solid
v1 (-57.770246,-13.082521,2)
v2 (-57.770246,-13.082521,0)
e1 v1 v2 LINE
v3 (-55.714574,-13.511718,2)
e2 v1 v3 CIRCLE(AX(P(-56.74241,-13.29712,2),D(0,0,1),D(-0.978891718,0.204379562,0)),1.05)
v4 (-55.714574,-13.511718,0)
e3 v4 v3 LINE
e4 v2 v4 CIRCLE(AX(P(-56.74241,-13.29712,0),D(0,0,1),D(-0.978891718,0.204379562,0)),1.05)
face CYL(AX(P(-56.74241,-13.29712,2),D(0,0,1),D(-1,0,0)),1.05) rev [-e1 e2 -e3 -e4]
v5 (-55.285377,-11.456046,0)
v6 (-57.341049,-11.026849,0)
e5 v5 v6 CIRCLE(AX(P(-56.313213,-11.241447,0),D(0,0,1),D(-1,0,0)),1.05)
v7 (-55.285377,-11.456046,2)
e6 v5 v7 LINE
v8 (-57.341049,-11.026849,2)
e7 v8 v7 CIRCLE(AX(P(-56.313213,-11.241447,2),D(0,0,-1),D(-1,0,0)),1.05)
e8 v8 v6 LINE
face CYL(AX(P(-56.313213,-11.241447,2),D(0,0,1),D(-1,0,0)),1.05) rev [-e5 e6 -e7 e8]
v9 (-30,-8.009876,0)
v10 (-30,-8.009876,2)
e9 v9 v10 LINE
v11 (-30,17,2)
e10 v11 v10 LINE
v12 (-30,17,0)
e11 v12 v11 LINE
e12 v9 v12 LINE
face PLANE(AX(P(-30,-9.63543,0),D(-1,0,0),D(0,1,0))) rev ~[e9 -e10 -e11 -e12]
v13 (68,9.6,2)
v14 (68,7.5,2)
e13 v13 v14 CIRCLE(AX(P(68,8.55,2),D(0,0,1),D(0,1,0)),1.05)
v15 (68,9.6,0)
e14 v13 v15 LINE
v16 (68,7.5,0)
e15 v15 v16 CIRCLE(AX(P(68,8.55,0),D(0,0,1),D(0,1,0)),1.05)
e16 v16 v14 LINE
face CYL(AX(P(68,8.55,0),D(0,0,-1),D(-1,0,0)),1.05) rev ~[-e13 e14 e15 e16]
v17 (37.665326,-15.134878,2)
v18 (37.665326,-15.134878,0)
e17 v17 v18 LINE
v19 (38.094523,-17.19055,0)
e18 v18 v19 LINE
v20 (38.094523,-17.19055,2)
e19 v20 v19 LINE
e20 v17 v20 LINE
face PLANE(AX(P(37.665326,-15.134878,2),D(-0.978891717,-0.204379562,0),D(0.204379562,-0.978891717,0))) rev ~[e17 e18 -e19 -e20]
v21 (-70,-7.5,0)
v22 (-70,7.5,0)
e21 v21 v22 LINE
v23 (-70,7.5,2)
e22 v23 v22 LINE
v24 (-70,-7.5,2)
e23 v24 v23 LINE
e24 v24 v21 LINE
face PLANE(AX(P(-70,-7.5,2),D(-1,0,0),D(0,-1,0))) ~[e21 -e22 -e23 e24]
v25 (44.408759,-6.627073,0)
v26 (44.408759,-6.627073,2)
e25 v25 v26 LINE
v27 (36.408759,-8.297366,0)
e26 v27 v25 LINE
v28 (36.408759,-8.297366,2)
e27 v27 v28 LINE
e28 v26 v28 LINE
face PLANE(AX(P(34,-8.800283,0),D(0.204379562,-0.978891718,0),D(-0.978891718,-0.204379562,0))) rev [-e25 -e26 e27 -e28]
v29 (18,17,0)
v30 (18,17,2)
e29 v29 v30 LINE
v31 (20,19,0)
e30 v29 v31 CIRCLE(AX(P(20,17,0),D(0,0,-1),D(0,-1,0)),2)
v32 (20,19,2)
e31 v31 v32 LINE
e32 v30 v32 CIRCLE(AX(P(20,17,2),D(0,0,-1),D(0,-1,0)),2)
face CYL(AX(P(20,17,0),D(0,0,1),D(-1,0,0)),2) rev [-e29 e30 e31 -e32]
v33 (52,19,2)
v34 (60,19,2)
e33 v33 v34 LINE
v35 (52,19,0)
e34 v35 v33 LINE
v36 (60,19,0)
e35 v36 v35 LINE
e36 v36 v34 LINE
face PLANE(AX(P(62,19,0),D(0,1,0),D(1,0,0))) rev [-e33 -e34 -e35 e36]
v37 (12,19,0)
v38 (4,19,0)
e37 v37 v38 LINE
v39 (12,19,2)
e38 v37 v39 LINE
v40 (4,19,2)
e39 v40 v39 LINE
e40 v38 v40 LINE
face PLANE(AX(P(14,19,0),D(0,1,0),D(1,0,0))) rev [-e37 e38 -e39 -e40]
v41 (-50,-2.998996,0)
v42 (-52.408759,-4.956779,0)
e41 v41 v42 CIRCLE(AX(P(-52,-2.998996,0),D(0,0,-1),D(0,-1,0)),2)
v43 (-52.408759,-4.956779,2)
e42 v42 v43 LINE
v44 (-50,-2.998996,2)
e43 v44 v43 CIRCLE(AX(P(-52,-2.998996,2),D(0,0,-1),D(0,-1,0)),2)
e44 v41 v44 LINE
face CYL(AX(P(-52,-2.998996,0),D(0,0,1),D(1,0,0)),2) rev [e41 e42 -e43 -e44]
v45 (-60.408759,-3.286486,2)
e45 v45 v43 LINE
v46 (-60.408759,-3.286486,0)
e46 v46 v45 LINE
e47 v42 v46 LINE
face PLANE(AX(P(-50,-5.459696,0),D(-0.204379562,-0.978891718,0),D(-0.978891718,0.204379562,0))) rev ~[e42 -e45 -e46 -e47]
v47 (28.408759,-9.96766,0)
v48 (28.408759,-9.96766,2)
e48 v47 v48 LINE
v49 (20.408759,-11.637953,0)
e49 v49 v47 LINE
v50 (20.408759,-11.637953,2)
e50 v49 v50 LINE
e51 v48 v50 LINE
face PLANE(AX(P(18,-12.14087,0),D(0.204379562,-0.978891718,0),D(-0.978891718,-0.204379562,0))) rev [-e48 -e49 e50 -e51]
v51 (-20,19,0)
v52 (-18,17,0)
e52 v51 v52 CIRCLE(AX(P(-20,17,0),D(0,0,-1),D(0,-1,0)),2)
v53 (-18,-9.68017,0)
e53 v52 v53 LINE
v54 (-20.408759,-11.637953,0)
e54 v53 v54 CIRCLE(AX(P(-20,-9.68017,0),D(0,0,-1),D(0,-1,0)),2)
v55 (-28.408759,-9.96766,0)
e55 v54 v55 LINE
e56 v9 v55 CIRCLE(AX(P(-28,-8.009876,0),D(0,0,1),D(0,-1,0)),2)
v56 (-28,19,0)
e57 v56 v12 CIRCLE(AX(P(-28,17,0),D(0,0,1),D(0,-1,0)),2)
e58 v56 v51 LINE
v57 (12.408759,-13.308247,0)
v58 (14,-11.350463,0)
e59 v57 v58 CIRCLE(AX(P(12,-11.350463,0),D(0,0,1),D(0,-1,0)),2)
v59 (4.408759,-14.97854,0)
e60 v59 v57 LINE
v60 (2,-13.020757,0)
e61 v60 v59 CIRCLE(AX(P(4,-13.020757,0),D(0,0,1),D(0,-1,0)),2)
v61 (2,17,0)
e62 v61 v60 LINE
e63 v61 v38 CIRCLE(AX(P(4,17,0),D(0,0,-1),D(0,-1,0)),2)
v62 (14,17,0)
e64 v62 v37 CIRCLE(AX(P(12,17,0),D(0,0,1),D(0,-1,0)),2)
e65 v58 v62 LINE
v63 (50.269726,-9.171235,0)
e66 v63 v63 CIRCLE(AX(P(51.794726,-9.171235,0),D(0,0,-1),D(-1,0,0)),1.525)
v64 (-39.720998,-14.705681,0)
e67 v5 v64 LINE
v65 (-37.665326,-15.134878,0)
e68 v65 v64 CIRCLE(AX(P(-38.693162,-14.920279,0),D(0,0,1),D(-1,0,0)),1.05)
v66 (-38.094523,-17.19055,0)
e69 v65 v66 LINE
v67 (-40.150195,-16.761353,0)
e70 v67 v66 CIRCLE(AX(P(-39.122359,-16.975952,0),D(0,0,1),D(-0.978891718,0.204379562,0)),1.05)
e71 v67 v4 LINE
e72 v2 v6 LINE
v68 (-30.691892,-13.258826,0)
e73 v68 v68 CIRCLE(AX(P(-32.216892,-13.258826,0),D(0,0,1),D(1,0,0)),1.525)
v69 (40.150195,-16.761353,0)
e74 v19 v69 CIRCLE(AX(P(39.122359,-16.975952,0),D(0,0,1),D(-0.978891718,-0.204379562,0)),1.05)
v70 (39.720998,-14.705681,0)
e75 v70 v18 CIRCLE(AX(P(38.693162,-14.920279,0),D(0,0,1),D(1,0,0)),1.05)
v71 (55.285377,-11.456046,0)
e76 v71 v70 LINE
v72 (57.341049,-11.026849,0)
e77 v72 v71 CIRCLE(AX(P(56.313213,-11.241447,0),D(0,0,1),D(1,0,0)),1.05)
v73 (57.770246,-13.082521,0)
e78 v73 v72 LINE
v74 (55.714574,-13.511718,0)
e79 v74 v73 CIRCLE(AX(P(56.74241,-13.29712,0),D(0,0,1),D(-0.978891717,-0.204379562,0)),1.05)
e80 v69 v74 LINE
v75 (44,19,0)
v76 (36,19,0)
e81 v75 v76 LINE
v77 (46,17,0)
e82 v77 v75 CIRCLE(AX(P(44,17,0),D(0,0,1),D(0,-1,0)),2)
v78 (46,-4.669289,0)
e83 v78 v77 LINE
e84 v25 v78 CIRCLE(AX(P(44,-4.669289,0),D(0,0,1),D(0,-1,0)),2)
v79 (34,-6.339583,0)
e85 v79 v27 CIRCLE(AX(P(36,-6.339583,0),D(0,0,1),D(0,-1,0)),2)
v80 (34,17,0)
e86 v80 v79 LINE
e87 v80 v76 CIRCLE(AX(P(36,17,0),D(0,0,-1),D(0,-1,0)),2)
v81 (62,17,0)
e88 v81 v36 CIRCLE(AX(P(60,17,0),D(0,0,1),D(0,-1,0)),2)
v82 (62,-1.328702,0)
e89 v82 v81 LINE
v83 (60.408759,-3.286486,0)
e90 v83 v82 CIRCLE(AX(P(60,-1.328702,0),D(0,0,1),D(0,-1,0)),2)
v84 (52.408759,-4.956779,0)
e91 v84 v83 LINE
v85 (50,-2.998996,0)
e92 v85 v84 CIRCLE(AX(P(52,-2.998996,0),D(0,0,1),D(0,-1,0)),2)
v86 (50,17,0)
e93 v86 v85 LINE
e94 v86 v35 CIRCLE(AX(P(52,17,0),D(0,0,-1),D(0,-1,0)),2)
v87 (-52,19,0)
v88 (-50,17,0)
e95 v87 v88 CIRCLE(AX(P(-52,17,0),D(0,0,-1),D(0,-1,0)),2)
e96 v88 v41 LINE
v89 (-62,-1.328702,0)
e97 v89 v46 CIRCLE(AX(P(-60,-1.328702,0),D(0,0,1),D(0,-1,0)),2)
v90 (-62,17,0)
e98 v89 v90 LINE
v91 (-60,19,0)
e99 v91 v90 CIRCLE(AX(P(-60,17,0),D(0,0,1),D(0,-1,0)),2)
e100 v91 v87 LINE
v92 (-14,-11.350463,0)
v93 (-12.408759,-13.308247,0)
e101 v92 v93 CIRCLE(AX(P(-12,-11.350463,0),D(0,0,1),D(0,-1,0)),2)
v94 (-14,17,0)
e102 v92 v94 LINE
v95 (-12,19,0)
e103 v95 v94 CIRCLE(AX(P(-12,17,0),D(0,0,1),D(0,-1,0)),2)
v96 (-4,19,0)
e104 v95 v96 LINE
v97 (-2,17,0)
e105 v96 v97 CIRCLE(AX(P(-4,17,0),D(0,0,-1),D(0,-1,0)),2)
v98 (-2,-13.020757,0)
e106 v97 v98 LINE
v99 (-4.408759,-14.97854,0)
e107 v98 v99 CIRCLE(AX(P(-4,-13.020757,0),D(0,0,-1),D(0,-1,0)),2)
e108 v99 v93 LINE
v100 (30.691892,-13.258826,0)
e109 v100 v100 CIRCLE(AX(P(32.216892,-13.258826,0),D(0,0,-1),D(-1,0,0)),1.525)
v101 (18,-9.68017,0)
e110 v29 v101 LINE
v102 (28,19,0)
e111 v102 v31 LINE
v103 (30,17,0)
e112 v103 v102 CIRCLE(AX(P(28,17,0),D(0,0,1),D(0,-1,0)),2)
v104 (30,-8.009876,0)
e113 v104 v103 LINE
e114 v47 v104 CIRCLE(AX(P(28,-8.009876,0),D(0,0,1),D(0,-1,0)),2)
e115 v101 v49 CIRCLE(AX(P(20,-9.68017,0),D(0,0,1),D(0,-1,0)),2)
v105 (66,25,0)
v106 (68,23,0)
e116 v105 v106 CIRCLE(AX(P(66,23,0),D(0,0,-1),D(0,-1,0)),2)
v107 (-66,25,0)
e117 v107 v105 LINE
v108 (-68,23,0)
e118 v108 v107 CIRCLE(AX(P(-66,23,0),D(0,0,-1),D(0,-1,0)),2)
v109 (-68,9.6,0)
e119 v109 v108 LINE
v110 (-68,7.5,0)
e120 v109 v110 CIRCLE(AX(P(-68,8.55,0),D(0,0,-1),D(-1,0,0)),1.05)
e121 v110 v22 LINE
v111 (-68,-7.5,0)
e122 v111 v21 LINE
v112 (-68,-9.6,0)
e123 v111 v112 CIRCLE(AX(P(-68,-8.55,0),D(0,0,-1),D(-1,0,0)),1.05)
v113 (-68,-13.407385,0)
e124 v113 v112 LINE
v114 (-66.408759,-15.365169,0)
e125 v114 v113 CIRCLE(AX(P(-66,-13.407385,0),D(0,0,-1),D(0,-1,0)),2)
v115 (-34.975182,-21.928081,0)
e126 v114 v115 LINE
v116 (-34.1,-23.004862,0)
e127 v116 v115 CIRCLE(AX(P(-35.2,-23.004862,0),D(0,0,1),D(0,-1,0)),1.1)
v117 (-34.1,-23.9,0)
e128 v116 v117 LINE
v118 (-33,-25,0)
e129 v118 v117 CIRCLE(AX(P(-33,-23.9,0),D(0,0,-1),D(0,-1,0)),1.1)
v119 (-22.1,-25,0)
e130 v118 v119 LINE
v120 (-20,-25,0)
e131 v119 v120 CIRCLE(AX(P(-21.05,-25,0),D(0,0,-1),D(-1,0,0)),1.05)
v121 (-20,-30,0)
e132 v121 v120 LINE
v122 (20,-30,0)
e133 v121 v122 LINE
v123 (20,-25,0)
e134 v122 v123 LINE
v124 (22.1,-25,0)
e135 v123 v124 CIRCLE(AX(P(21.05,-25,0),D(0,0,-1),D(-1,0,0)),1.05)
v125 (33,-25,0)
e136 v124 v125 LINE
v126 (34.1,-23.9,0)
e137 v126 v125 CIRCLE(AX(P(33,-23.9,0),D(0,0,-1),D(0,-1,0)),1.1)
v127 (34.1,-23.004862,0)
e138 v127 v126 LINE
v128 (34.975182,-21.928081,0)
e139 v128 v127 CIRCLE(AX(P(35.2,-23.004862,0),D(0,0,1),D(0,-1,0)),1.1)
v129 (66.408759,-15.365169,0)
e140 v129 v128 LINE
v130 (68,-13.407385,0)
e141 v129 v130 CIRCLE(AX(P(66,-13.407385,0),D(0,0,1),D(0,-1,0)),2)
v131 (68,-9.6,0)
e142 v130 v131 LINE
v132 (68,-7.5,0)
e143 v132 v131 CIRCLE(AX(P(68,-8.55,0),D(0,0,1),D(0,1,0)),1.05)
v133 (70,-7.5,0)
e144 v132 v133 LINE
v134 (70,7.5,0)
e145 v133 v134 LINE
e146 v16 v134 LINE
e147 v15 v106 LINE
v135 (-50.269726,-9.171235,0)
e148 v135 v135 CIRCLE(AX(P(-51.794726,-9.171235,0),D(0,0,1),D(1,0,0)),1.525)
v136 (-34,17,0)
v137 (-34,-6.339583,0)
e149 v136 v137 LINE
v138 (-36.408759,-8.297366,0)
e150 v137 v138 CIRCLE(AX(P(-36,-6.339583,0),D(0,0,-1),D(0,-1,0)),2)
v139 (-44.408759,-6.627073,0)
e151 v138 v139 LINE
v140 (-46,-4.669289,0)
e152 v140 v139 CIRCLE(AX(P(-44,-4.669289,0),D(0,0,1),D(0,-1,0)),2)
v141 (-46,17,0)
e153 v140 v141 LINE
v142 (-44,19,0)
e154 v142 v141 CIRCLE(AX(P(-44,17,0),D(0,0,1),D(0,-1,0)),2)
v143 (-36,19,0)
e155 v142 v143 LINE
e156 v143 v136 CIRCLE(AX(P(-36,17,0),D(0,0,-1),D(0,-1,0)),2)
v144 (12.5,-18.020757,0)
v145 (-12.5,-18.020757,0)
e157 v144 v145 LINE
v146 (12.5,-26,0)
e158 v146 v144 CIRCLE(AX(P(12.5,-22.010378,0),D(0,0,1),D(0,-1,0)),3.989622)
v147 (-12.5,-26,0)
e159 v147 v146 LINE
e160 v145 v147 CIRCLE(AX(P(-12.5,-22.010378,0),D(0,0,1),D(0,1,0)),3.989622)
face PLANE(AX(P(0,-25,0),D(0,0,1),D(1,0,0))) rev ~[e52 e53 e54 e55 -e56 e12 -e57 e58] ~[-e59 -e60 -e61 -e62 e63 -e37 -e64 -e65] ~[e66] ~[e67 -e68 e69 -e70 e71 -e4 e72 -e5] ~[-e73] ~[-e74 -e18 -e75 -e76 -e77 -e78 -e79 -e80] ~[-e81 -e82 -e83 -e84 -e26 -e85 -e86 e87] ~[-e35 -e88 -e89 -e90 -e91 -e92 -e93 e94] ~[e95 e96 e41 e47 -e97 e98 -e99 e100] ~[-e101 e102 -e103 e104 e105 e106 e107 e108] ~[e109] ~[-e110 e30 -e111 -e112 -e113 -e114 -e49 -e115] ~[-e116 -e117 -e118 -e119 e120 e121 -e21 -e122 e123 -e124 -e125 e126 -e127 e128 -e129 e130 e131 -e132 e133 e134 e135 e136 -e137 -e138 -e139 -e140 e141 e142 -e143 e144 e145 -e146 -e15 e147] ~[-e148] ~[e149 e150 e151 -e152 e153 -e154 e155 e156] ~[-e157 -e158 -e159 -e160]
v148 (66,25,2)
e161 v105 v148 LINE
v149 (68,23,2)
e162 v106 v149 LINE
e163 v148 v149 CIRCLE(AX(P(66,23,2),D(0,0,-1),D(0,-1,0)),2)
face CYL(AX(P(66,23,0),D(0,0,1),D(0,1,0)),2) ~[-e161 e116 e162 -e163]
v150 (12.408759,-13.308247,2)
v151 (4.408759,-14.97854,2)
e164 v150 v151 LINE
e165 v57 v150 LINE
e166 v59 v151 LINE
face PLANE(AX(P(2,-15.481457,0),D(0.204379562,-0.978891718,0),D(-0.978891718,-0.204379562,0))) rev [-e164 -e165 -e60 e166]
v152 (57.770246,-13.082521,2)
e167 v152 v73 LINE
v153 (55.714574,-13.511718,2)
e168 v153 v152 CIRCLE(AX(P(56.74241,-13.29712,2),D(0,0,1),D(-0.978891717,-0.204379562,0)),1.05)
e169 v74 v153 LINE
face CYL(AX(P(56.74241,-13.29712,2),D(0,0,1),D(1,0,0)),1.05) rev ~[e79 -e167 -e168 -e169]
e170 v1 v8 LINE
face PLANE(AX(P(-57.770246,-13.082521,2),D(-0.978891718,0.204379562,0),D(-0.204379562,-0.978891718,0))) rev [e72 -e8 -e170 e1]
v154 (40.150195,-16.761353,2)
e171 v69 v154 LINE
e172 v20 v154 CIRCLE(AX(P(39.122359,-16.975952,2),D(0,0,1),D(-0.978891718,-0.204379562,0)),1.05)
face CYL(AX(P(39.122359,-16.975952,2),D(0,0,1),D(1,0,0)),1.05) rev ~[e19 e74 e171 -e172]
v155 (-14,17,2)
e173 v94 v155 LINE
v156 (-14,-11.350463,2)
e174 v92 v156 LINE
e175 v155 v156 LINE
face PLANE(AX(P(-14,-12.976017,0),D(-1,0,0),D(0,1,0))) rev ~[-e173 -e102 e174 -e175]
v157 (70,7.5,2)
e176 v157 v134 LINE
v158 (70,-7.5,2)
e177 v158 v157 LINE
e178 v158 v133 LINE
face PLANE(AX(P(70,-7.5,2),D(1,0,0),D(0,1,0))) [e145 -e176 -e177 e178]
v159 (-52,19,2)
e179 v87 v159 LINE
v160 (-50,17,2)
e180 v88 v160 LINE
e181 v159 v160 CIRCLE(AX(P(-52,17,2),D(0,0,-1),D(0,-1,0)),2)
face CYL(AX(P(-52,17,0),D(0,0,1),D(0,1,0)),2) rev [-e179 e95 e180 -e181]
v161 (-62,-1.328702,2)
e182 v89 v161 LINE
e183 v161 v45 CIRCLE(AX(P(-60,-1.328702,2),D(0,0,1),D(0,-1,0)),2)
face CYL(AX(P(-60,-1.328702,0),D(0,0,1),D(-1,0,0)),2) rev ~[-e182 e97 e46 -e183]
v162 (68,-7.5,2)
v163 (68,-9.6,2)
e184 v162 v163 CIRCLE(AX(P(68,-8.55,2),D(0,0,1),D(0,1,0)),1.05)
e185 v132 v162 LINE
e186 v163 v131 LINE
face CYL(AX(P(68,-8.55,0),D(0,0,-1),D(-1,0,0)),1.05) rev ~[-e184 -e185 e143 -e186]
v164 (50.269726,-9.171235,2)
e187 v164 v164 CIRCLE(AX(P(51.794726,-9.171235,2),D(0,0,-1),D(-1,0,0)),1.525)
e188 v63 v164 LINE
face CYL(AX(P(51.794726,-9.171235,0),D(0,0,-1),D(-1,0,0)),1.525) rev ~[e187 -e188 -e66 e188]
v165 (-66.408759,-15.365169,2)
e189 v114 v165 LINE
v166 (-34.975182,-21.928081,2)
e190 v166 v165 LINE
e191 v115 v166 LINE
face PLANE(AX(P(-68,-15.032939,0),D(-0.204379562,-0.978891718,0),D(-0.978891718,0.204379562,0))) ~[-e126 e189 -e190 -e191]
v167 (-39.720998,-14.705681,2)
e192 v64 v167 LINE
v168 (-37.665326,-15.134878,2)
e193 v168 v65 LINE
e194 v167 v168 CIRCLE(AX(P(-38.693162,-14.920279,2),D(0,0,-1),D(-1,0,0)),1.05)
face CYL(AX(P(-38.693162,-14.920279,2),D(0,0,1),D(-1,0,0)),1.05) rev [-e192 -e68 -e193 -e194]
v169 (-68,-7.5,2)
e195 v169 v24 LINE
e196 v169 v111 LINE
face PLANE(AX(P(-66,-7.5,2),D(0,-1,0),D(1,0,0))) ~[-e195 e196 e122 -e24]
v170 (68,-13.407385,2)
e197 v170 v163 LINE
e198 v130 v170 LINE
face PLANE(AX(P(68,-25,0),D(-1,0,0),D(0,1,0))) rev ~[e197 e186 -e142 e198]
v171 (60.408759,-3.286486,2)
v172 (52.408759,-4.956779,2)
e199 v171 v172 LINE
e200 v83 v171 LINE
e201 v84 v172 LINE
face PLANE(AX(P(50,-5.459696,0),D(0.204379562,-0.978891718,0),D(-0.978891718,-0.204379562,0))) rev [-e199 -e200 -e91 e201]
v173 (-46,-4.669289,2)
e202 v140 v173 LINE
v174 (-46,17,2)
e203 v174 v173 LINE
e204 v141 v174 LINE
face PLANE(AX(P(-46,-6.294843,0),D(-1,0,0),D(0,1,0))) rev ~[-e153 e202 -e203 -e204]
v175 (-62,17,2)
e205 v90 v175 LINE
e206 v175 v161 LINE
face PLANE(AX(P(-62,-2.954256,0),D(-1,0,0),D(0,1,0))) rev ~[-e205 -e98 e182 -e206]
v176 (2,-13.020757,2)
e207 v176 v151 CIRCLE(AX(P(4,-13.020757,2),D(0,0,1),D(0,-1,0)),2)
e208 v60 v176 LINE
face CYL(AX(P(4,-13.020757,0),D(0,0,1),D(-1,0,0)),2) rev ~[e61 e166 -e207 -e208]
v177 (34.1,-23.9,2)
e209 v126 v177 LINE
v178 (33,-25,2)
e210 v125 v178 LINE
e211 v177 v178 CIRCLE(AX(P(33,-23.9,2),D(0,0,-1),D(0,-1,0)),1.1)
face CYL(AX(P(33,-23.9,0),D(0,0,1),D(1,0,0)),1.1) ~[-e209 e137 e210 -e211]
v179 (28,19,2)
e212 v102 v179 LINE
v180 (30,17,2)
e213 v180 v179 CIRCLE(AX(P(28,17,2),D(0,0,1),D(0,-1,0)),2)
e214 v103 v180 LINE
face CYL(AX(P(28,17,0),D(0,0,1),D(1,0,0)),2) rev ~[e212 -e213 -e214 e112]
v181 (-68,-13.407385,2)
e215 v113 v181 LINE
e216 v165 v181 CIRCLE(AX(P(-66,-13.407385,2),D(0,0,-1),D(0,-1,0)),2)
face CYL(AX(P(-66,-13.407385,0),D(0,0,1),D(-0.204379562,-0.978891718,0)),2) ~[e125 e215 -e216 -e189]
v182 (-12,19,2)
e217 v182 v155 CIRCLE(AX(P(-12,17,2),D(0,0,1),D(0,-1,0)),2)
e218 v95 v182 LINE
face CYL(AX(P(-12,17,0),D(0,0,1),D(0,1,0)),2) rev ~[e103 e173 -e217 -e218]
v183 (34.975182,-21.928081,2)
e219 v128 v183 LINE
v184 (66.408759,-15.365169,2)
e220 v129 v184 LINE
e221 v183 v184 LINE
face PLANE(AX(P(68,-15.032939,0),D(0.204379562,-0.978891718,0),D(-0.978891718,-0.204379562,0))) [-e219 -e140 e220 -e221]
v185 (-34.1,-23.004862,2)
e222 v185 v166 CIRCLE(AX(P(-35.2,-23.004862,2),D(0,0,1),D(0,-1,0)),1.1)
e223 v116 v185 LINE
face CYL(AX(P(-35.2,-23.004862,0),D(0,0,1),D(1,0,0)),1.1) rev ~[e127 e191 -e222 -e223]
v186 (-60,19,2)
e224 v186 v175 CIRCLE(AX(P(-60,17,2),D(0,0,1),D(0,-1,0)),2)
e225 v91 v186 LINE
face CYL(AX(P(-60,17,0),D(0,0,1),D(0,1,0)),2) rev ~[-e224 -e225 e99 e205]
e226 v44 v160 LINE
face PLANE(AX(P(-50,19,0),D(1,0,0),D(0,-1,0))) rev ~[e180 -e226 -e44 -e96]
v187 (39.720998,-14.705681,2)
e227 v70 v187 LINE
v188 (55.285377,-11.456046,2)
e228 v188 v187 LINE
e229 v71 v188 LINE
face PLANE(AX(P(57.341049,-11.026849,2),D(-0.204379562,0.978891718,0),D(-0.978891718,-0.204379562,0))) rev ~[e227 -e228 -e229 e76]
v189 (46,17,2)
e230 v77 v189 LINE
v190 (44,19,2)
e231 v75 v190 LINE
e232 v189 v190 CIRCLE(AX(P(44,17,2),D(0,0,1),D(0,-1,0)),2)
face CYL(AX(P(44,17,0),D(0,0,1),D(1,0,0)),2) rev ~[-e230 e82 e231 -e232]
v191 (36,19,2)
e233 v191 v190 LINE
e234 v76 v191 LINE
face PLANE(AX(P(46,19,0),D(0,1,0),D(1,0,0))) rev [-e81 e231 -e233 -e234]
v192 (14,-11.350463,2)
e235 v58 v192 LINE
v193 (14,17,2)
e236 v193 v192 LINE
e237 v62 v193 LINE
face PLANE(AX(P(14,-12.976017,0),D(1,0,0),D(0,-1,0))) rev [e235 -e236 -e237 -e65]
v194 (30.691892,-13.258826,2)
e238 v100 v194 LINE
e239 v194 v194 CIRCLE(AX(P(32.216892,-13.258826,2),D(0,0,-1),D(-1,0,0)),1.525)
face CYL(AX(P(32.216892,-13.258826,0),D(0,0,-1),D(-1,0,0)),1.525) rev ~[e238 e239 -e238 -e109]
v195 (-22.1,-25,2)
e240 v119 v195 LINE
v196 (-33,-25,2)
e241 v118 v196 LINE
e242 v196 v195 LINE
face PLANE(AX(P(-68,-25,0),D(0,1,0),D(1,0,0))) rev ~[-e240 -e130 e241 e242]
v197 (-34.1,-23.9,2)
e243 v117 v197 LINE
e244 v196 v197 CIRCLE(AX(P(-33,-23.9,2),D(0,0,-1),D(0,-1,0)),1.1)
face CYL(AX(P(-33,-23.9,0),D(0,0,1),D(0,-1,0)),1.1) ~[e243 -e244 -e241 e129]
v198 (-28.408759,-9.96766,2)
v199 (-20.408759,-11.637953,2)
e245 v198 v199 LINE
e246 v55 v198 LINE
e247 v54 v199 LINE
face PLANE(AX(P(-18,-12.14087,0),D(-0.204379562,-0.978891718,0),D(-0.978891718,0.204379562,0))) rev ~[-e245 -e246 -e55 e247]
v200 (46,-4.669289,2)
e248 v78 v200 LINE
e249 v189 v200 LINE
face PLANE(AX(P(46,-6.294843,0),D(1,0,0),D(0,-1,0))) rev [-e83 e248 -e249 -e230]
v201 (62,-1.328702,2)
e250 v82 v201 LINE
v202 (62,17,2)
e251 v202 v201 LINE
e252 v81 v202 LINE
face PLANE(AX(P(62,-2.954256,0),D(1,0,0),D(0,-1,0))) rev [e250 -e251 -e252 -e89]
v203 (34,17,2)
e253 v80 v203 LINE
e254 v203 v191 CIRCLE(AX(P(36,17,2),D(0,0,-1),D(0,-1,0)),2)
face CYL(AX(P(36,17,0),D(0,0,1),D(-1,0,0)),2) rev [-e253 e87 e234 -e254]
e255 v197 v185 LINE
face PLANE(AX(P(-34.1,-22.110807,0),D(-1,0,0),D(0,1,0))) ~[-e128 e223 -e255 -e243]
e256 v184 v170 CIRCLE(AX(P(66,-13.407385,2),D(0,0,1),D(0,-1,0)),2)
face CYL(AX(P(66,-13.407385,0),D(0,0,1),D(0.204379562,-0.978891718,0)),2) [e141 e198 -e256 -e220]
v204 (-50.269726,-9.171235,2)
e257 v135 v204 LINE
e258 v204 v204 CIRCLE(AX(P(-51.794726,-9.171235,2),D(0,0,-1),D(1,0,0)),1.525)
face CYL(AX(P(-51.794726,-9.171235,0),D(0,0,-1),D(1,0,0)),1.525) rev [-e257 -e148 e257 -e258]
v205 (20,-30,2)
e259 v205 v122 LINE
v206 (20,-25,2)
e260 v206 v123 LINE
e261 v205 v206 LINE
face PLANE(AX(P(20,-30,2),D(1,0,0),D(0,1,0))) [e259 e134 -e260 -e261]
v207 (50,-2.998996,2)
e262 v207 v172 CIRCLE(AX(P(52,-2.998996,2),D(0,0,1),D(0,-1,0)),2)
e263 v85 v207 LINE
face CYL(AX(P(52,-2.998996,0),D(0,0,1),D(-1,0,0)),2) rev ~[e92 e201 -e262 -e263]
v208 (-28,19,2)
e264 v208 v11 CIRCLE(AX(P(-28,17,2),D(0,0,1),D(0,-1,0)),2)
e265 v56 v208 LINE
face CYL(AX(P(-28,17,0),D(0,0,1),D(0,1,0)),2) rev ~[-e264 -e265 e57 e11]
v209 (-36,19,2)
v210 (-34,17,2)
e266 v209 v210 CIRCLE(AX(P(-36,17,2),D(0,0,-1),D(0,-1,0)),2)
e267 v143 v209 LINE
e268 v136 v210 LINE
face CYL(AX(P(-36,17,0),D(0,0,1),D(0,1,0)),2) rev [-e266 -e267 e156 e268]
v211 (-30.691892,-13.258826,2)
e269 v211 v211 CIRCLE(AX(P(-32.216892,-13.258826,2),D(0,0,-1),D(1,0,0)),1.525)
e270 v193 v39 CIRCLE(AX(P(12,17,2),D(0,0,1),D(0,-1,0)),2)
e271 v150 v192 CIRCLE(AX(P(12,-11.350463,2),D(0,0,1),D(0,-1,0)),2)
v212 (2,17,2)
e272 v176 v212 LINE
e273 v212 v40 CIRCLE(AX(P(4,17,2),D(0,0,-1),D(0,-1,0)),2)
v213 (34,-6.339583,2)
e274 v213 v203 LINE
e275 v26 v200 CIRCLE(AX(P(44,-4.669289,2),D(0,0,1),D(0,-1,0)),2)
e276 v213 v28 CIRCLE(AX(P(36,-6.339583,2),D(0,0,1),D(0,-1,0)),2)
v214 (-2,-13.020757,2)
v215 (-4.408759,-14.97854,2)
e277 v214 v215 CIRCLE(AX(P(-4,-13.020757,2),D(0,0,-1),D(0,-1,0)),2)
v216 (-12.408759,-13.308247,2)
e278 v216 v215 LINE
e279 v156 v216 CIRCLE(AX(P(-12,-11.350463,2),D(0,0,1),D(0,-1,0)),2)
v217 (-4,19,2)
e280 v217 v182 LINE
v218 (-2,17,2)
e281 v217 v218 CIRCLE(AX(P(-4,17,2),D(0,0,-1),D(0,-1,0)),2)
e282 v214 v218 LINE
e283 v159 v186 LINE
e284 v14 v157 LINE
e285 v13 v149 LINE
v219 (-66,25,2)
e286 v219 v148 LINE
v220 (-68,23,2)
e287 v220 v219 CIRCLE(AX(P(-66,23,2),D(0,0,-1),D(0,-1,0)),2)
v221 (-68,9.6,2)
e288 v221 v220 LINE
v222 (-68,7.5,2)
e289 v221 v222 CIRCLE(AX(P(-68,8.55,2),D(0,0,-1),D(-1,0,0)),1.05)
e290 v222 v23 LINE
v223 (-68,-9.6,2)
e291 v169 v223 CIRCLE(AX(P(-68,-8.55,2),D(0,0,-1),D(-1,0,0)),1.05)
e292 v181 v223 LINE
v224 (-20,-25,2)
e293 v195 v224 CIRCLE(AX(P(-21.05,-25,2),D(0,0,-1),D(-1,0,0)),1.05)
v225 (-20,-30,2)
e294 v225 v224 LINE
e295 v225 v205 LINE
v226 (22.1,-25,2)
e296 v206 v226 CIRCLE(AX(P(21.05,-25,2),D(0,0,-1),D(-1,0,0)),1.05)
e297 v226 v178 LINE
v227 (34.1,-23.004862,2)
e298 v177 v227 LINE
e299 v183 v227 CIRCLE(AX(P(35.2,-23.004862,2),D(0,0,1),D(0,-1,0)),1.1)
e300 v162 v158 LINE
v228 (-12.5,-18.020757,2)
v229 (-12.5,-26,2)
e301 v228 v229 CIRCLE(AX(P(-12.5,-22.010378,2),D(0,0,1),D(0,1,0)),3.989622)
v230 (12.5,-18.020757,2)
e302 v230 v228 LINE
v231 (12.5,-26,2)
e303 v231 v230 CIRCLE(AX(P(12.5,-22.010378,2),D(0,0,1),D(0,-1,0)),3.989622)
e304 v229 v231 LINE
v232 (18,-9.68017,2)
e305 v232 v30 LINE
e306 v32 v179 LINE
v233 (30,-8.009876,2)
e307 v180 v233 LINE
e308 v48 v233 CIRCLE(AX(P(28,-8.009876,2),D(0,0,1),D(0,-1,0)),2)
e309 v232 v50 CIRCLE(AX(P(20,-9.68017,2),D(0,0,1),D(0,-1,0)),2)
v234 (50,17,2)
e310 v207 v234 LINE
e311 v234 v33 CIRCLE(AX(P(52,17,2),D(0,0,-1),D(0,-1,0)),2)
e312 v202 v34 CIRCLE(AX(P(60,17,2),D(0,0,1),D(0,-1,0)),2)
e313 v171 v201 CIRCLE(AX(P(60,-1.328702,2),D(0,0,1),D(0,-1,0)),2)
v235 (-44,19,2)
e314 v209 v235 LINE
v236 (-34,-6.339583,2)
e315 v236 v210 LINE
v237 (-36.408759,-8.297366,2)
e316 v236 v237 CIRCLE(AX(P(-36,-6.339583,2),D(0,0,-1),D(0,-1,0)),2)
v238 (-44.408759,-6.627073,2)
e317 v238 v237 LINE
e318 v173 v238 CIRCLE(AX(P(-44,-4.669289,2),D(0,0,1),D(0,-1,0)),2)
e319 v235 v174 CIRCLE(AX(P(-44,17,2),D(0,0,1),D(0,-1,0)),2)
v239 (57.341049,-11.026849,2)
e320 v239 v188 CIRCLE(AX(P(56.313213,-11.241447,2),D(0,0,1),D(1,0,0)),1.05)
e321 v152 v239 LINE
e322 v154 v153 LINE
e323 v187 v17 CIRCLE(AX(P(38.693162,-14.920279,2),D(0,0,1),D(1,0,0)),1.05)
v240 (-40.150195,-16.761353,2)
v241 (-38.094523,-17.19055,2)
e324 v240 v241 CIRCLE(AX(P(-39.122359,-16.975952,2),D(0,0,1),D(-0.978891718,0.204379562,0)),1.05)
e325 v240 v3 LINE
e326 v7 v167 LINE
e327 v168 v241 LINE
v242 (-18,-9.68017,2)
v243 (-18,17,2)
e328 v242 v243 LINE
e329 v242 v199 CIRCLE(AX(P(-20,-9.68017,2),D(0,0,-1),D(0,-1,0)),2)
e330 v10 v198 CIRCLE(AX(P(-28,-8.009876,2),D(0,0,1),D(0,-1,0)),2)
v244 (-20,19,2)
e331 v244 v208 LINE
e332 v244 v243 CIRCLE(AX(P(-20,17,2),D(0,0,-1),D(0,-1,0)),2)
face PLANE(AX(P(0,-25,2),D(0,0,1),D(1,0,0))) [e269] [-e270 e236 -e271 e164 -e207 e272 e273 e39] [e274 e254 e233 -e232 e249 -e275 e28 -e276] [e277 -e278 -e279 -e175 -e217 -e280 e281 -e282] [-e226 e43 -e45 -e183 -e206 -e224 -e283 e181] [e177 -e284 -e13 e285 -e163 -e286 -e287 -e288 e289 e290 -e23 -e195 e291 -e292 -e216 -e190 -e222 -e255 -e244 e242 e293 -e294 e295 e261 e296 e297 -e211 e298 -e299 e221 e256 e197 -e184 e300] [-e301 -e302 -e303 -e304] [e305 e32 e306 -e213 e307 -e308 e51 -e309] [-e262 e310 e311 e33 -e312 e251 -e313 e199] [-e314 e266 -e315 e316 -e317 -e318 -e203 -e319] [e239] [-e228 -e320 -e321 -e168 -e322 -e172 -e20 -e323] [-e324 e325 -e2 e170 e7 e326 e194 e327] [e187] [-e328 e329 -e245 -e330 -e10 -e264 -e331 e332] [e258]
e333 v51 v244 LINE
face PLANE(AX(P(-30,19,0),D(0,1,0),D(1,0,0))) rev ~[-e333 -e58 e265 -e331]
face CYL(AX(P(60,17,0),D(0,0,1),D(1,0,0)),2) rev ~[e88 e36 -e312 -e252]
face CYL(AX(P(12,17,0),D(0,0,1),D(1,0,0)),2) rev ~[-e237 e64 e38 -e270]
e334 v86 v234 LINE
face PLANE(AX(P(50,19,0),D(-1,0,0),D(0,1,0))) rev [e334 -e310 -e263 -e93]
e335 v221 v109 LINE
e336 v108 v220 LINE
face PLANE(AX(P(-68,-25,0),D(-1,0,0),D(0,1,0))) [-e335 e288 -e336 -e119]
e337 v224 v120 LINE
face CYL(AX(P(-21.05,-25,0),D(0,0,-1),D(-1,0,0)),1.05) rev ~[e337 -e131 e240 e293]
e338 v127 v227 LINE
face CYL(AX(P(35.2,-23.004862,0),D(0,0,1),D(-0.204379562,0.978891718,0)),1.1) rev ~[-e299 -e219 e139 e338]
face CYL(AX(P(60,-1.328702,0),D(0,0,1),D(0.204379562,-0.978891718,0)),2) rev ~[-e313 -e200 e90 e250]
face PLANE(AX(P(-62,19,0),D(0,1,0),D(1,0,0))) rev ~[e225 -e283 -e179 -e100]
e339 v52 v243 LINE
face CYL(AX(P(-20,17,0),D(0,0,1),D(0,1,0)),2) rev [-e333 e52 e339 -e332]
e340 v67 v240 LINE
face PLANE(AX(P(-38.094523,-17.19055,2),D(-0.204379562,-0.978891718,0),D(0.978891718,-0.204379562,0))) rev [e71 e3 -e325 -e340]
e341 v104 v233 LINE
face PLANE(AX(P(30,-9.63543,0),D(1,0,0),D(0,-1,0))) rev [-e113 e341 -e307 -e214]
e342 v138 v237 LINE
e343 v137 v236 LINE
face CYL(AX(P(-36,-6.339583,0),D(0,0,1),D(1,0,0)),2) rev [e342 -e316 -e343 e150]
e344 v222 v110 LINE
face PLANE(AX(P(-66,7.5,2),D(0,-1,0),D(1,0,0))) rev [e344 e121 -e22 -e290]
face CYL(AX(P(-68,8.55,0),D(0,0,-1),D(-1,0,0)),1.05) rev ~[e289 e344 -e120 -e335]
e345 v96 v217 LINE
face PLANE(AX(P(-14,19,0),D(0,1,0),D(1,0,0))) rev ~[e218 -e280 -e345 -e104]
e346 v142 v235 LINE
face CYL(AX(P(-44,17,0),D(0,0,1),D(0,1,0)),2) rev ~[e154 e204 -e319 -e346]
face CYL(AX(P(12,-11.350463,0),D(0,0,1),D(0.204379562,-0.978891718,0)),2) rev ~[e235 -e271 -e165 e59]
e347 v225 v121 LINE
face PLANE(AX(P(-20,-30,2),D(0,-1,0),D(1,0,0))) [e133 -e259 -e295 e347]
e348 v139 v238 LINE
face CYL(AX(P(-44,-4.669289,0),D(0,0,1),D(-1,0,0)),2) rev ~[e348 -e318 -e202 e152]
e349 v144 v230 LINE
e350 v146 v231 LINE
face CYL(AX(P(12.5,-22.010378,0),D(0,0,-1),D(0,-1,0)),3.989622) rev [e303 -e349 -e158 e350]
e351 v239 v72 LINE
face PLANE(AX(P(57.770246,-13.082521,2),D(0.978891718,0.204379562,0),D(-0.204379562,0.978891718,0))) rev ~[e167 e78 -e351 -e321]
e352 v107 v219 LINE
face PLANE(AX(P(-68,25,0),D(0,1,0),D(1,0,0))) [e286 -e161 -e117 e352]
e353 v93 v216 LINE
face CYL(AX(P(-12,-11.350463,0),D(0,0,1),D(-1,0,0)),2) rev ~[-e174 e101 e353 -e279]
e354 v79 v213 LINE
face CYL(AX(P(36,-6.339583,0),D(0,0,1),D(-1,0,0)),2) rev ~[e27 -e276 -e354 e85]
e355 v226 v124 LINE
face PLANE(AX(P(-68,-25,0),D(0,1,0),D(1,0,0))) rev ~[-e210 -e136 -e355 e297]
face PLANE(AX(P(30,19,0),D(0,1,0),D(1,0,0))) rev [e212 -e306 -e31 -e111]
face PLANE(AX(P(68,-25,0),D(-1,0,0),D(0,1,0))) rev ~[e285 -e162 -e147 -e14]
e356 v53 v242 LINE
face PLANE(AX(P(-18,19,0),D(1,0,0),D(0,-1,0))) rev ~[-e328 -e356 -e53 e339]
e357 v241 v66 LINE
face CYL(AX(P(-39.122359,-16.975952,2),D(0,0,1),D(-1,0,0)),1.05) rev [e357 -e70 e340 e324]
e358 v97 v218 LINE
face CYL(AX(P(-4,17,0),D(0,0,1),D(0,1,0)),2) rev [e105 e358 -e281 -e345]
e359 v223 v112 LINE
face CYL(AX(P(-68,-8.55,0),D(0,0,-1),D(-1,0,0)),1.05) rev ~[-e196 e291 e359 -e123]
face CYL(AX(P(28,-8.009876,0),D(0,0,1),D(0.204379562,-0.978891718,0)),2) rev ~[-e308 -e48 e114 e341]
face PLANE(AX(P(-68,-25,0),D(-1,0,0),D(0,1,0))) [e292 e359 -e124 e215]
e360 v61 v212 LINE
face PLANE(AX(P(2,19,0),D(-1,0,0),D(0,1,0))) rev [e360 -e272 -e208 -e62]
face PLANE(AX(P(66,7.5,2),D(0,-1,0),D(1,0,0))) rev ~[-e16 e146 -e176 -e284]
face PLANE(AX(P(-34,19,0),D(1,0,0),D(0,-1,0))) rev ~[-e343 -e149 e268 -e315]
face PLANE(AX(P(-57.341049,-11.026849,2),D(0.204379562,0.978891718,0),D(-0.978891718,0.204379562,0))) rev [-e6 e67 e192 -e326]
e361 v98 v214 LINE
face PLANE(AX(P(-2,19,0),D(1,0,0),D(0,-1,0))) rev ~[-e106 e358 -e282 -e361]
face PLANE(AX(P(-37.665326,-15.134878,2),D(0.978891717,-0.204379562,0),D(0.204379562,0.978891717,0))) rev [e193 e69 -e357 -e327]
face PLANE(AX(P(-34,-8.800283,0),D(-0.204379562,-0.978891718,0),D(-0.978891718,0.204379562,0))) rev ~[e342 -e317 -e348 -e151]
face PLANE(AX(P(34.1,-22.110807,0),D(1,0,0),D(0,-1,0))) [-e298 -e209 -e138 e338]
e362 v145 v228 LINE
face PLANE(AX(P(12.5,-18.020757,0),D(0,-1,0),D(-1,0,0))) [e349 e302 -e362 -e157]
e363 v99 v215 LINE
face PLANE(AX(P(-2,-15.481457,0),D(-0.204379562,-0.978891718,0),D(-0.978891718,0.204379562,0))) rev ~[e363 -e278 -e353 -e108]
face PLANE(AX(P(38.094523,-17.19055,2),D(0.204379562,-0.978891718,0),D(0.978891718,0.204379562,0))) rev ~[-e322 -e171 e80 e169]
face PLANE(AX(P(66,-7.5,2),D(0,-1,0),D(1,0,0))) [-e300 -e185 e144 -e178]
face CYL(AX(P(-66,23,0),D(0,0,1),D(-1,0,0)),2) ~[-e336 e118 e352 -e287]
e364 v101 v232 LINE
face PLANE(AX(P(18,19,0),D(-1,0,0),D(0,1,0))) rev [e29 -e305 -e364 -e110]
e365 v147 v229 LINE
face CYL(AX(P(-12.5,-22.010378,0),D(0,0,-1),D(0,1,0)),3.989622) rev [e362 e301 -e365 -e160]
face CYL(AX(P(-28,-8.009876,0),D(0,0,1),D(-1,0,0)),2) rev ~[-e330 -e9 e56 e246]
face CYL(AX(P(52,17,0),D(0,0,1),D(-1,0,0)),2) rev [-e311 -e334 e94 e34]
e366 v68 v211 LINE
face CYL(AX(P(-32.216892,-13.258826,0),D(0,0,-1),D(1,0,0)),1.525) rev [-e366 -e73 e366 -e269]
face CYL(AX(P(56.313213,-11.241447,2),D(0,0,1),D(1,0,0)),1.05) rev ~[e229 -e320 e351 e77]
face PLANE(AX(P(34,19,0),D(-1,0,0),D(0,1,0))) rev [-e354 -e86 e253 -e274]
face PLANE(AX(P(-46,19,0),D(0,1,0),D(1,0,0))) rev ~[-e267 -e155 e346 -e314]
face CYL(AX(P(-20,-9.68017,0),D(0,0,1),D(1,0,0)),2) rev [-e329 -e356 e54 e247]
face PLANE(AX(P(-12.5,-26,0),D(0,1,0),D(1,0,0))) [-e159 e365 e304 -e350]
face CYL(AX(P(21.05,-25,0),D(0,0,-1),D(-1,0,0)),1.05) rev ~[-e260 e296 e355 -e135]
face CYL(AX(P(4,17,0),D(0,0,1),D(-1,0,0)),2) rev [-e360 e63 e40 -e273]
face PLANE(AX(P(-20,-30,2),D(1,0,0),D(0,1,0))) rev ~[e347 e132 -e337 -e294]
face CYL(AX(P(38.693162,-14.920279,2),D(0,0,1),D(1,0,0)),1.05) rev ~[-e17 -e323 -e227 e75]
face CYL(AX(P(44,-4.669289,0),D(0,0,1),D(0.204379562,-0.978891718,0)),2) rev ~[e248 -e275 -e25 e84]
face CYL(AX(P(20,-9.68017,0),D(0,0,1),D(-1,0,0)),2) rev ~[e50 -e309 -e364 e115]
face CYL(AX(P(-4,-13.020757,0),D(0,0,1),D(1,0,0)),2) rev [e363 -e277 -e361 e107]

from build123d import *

# Parameters (mm, degrees)
SKETCH_1_W           = 136
SKETCH_1_H           = 50
EXTRUDE_1_DEPTH      = 2
SKETCH_2_W           = 4
SKETCH_2_H           = 15
EXTRUDE_2_DEPTH      = 2
SKETCH_3_R           = 1.05
CUT_EXTRUDE_1_DEPTH  = 2
CUT_EXTRUDE_3_DEPTH  = 2
SKETCH_5_R           = 1.05
CUT_EXTRUDE_4_DEPTH  = 10
SKETCH_6_R           = 1.05
CUT_EXTRUDE_5_DEPTH  = 10
SKETCH_7_W           = 40
SKETCH_7_H           = 10
EXTRUDE_3_DEPTH      = 2
SKETCH_8_R           = 1.05
CUT_EXTRUDE_6_DEPTH  = 10
SKETCH_9_R           = 1.525
CUT_EXTRUDE_7_DEPTH  = 22
CUT_EXTRUDE_8_DEPTH  = 22
FILLET_1_R           = 1.1
FILLET_2_R           = 2
CUT_EXTRUDE_9_DEPTH  = 22
FILLET_3_R           = 2
CUT_EXTRUDE_10_DEPTH = 2


with BuildPart() as part:
    # 草图1 → 凸台-拉伸1 (new body)
    with BuildSketch(Plane.XY):
        Rectangle(SKETCH_1_W, SKETCH_1_H)
    extrude(amount=EXTRUDE_1_DEPTH)

    # 草图2 → 凸台-拉伸2 (add)
    with BuildSketch(Plane.XY.offset(2)):
        with Locations((68, 0)):
            Rectangle(SKETCH_2_W, SKETCH_2_H)
    extrude_2 = extrude(amount=-EXTRUDE_2_DEPTH)

    # 镜向1: 凸台-拉伸2 across plane
    add(extrude_2.mirror(Plane(origin=(0, 0, 0), x_dir=(0, 0, 1), z_dir=(1, 0, 0))))

    # 草图3 → 切除-拉伸1 (cut)
    with BuildSketch(Plane(origin=(0, 0, 0), x_dir=(-1, 0, 0), z_dir=(0, 0, -1))):
        with Locations((68, 8.55)):
            Circle(SKETCH_3_R)
        with Locations((68, -8.55)):
            Circle(SKETCH_3_R)
        with Locations((-68, 8.55)):
            Circle(SKETCH_3_R)
        with Locations((-68, -8.55)):
            Circle(SKETCH_3_R)
    extrude(amount=-CUT_EXTRUDE_1_DEPTH, mode=Mode.SUBTRACT)

    # 草图4 → 切除-拉伸3 (cut)
    with BuildSketch(Plane.XY.offset(2)):
        Polygon((38.094522867, -17.190550425), (57.770246389, -13.082521228), (57.341049309, -11.026848621), (37.665325786, -15.134877819), align=None)
    cut_extrude_3 = extrude(amount=-CUT_EXTRUDE_3_DEPTH, mode=Mode.SUBTRACT)

    # 草图5 → 切除-拉伸4 (cut)
    with BuildSketch(Plane.XY.offset(2)):
        with Locations((39.12235917, -16.975951885)):
            Circle(SKETCH_5_R)
        with Locations((56.742410085, -13.297119768)):
            Circle(SKETCH_5_R)
    cut_extrude_4 = extrude(amount=-CUT_EXTRUDE_4_DEPTH, mode=Mode.SUBTRACT)

    # 草图6 → 切除-拉伸5 (cut)
    with BuildSketch(Plane.XY.offset(2)):
        with Locations((38.69316209, -14.920279278)):
            Circle(SKETCH_6_R)
        with Locations((56.313213005, -11.241447162)):
            Circle(SKETCH_6_R)
    cut_extrude_5 = extrude(amount=-CUT_EXTRUDE_5_DEPTH, mode=Mode.SUBTRACT)

    # 镜向2: 切除-拉伸3, 切除-拉伸4, 切除-拉伸5 across plane
    add(cut_extrude_3.mirror(Plane(origin=(0, 0, 0), x_dir=(0, 0, 1), z_dir=(1, 0, 0))), mode=Mode.SUBTRACT)
    add(cut_extrude_4.mirror(Plane(origin=(0, 0, 0), x_dir=(0, 0, 1), z_dir=(1, 0, 0))), mode=Mode.SUBTRACT)
    add(cut_extrude_5.mirror(Plane(origin=(0, 0, 0), x_dir=(0, 0, 1), z_dir=(1, 0, 0))), mode=Mode.SUBTRACT)

    # 草图7 → 凸台-拉伸3 (add)
    with BuildSketch(Plane.XY.offset(2)):
        with Locations((0, -25)):
            Rectangle(SKETCH_7_W, SKETCH_7_H)
    extrude(amount=-EXTRUDE_3_DEPTH)

    # 草图8 → 切除-拉伸6 (cut)
    with BuildSketch(Plane(origin=(0, 0, 0), x_dir=(-1, 0, 0), z_dir=(0, 0, -1))):
        with Locations((21.05, -25)):
            Circle(SKETCH_8_R)
        with Locations((-21.05, -25)):
            Circle(SKETCH_8_R)
    extrude(amount=-CUT_EXTRUDE_6_DEPTH, mode=Mode.SUBTRACT)

    # 草图9 → 切除-拉伸7 (cut)
    with BuildSketch(Plane(origin=(0, 0, 0), x_dir=(-1, 0, 0), z_dir=(0, 0, -1))):
        with Locations((-51.794726427, -9.171234843)):
            Circle(SKETCH_9_R)
        with Locations((-32.216892077, -13.258826084)):
            Circle(SKETCH_9_R)
    cut_extrude_7 = extrude(amount=-CUT_EXTRUDE_7_DEPTH, mode=Mode.SUBTRACT)

    # 镜向3: 切除-拉伸7 across plane
    add(cut_extrude_7.mirror(Plane(origin=(0, 0, 0), x_dir=(0, 0, 1), z_dir=(1, 0, 0))), mode=Mode.SUBTRACT)

    # 草图10 → 切除-拉伸8 (cut)
    with BuildSketch(Plane(origin=(0, 0, 0), x_dir=(-1, 0, 0), z_dir=(0, 0, -1))):
        Polygon((-68, -15.032938627), (-34.1, -22.110807434), (-34.1, -25), (-68, -25), align=None)
    cut_extrude_8 = extrude(amount=-CUT_EXTRUDE_8_DEPTH, mode=Mode.SUBTRACT)

    # 镜向4: 切除-拉伸8 across plane
    add(cut_extrude_8.mirror(Plane(origin=(0, 0, 0), x_dir=(0, 0, 1), z_dir=(1, 0, 0))), mode=Mode.SUBTRACT)

    # 圆角1
    fillet_1_edges = [part.edges().sort_by_distance(p)[0] for p in [
        (34.1, -25, 1),
        (34.1, -22.110807434, 1),
        (-34.1, -25, 1),
        (-34.1, -22.110807434, 1),
    ]]
    fillet(fillet_1_edges, radius=FILLET_1_R)

    # 圆角2
    fillet_2_edges = [part.edges().sort_by_distance(p)[0] for p in [
        (68, -15.032938627, 1),
        (-68, -15.032938627, 1),
        (-68, 25, 1),
        (68, 25, 1),
    ]]
    fillet(fillet_2_edges, radius=FILLET_2_R)

    # 草图11 → 切除-拉伸9 (cut)
    with BuildSketch(Plane(origin=(0, 0, 0), x_dir=(-1, 0, 0), z_dir=(0, 0, -1))):
        Polygon((14, 19), (2, 19), (2, -15.481457178), (14, -12.976016892), align=None)
        Polygon((30, 19), (18, 19), (18, -12.14087013), (30, -9.635429844), align=None)
        Polygon((46, 19), (34, 19), (34, -8.800283082), (46, -6.294842797), align=None)
        Polygon((62, 19), (50, 19), (50, -5.459696035), (62, -2.954255749), align=None)
    cut_extrude_9 = extrude(amount=-CUT_EXTRUDE_9_DEPTH, mode=Mode.SUBTRACT)

    # 镜向5: 切除-拉伸9 across plane
    add(cut_extrude_9.mirror(Plane(origin=(0, 0, 0), x_dir=(0, 0, 1), z_dir=(1, 0, 0))), mode=Mode.SUBTRACT)

    # 圆角3
    fillet_3_edges = [part.edges().sort_by_distance(p)[0] for p in [
        (-14, 19, 1),
        (-14, -12.976016892, 1),
        (-2, -15.481457178, 1),
        (-2, 19, 1),
        (-30, 19, 1),
        (-30, -9.635429844, 1),
        (-18, -12.14087013, 1),
        (-18, 19, 1),
        (-46, 19, 1),
        (-46, -6.294842797, 1),
        (-34, -8.800283082, 1),
        (-34, 19, 1),
        (-50, 19, 1),
        (-62, 19, 1),
        (-62, -2.954255749, 1),
        (-50, -5.459696035, 1),
        (14, -12.976016892, 1),
        (14, 19, 1),
        (2, 19, 1),
        (2, -15.481457178, 1),
        (30, -9.635429844, 1),
        (30, 19, 1),
        (18, 19, 1),
        (18, -12.14087013, 1),
        (46, -6.294842797, 1),
        (46, 19, 1),
        (34, 19, 1),
        (34, -8.800283082, 1),
        (62, 19, 1),
        (50, 19, 1),
        (50, -5.459696035, 1),
        (62, -2.954255749, 1),
    ]]
    fillet(fillet_3_edges, radius=FILLET_3_R)

    # 草图12 → 切除-拉伸10 (cut)
    with BuildSketch(Plane(origin=(0, 0, 0), x_dir=(-1, 0, 0), z_dir=(0, 0, -1))):
        with BuildLine():
            Line((-12.5, -18.020756897), (12.5, -18.020756897))
            ThreePointArc((12.5, -18.020756897), (16.489621551, -22.010378449), (12.5, -26))
            Line((12.5, -26), (-12.5, -26))
            ThreePointArc((-12.5, -26), (-16.489621551, -22.010378449), (-12.5, -18.020756897))
        make_face()
    extrude(amount=-CUT_EXTRUDE_10_DEPTH, mode=Mode.SUBTRACT)


solid = part.part
